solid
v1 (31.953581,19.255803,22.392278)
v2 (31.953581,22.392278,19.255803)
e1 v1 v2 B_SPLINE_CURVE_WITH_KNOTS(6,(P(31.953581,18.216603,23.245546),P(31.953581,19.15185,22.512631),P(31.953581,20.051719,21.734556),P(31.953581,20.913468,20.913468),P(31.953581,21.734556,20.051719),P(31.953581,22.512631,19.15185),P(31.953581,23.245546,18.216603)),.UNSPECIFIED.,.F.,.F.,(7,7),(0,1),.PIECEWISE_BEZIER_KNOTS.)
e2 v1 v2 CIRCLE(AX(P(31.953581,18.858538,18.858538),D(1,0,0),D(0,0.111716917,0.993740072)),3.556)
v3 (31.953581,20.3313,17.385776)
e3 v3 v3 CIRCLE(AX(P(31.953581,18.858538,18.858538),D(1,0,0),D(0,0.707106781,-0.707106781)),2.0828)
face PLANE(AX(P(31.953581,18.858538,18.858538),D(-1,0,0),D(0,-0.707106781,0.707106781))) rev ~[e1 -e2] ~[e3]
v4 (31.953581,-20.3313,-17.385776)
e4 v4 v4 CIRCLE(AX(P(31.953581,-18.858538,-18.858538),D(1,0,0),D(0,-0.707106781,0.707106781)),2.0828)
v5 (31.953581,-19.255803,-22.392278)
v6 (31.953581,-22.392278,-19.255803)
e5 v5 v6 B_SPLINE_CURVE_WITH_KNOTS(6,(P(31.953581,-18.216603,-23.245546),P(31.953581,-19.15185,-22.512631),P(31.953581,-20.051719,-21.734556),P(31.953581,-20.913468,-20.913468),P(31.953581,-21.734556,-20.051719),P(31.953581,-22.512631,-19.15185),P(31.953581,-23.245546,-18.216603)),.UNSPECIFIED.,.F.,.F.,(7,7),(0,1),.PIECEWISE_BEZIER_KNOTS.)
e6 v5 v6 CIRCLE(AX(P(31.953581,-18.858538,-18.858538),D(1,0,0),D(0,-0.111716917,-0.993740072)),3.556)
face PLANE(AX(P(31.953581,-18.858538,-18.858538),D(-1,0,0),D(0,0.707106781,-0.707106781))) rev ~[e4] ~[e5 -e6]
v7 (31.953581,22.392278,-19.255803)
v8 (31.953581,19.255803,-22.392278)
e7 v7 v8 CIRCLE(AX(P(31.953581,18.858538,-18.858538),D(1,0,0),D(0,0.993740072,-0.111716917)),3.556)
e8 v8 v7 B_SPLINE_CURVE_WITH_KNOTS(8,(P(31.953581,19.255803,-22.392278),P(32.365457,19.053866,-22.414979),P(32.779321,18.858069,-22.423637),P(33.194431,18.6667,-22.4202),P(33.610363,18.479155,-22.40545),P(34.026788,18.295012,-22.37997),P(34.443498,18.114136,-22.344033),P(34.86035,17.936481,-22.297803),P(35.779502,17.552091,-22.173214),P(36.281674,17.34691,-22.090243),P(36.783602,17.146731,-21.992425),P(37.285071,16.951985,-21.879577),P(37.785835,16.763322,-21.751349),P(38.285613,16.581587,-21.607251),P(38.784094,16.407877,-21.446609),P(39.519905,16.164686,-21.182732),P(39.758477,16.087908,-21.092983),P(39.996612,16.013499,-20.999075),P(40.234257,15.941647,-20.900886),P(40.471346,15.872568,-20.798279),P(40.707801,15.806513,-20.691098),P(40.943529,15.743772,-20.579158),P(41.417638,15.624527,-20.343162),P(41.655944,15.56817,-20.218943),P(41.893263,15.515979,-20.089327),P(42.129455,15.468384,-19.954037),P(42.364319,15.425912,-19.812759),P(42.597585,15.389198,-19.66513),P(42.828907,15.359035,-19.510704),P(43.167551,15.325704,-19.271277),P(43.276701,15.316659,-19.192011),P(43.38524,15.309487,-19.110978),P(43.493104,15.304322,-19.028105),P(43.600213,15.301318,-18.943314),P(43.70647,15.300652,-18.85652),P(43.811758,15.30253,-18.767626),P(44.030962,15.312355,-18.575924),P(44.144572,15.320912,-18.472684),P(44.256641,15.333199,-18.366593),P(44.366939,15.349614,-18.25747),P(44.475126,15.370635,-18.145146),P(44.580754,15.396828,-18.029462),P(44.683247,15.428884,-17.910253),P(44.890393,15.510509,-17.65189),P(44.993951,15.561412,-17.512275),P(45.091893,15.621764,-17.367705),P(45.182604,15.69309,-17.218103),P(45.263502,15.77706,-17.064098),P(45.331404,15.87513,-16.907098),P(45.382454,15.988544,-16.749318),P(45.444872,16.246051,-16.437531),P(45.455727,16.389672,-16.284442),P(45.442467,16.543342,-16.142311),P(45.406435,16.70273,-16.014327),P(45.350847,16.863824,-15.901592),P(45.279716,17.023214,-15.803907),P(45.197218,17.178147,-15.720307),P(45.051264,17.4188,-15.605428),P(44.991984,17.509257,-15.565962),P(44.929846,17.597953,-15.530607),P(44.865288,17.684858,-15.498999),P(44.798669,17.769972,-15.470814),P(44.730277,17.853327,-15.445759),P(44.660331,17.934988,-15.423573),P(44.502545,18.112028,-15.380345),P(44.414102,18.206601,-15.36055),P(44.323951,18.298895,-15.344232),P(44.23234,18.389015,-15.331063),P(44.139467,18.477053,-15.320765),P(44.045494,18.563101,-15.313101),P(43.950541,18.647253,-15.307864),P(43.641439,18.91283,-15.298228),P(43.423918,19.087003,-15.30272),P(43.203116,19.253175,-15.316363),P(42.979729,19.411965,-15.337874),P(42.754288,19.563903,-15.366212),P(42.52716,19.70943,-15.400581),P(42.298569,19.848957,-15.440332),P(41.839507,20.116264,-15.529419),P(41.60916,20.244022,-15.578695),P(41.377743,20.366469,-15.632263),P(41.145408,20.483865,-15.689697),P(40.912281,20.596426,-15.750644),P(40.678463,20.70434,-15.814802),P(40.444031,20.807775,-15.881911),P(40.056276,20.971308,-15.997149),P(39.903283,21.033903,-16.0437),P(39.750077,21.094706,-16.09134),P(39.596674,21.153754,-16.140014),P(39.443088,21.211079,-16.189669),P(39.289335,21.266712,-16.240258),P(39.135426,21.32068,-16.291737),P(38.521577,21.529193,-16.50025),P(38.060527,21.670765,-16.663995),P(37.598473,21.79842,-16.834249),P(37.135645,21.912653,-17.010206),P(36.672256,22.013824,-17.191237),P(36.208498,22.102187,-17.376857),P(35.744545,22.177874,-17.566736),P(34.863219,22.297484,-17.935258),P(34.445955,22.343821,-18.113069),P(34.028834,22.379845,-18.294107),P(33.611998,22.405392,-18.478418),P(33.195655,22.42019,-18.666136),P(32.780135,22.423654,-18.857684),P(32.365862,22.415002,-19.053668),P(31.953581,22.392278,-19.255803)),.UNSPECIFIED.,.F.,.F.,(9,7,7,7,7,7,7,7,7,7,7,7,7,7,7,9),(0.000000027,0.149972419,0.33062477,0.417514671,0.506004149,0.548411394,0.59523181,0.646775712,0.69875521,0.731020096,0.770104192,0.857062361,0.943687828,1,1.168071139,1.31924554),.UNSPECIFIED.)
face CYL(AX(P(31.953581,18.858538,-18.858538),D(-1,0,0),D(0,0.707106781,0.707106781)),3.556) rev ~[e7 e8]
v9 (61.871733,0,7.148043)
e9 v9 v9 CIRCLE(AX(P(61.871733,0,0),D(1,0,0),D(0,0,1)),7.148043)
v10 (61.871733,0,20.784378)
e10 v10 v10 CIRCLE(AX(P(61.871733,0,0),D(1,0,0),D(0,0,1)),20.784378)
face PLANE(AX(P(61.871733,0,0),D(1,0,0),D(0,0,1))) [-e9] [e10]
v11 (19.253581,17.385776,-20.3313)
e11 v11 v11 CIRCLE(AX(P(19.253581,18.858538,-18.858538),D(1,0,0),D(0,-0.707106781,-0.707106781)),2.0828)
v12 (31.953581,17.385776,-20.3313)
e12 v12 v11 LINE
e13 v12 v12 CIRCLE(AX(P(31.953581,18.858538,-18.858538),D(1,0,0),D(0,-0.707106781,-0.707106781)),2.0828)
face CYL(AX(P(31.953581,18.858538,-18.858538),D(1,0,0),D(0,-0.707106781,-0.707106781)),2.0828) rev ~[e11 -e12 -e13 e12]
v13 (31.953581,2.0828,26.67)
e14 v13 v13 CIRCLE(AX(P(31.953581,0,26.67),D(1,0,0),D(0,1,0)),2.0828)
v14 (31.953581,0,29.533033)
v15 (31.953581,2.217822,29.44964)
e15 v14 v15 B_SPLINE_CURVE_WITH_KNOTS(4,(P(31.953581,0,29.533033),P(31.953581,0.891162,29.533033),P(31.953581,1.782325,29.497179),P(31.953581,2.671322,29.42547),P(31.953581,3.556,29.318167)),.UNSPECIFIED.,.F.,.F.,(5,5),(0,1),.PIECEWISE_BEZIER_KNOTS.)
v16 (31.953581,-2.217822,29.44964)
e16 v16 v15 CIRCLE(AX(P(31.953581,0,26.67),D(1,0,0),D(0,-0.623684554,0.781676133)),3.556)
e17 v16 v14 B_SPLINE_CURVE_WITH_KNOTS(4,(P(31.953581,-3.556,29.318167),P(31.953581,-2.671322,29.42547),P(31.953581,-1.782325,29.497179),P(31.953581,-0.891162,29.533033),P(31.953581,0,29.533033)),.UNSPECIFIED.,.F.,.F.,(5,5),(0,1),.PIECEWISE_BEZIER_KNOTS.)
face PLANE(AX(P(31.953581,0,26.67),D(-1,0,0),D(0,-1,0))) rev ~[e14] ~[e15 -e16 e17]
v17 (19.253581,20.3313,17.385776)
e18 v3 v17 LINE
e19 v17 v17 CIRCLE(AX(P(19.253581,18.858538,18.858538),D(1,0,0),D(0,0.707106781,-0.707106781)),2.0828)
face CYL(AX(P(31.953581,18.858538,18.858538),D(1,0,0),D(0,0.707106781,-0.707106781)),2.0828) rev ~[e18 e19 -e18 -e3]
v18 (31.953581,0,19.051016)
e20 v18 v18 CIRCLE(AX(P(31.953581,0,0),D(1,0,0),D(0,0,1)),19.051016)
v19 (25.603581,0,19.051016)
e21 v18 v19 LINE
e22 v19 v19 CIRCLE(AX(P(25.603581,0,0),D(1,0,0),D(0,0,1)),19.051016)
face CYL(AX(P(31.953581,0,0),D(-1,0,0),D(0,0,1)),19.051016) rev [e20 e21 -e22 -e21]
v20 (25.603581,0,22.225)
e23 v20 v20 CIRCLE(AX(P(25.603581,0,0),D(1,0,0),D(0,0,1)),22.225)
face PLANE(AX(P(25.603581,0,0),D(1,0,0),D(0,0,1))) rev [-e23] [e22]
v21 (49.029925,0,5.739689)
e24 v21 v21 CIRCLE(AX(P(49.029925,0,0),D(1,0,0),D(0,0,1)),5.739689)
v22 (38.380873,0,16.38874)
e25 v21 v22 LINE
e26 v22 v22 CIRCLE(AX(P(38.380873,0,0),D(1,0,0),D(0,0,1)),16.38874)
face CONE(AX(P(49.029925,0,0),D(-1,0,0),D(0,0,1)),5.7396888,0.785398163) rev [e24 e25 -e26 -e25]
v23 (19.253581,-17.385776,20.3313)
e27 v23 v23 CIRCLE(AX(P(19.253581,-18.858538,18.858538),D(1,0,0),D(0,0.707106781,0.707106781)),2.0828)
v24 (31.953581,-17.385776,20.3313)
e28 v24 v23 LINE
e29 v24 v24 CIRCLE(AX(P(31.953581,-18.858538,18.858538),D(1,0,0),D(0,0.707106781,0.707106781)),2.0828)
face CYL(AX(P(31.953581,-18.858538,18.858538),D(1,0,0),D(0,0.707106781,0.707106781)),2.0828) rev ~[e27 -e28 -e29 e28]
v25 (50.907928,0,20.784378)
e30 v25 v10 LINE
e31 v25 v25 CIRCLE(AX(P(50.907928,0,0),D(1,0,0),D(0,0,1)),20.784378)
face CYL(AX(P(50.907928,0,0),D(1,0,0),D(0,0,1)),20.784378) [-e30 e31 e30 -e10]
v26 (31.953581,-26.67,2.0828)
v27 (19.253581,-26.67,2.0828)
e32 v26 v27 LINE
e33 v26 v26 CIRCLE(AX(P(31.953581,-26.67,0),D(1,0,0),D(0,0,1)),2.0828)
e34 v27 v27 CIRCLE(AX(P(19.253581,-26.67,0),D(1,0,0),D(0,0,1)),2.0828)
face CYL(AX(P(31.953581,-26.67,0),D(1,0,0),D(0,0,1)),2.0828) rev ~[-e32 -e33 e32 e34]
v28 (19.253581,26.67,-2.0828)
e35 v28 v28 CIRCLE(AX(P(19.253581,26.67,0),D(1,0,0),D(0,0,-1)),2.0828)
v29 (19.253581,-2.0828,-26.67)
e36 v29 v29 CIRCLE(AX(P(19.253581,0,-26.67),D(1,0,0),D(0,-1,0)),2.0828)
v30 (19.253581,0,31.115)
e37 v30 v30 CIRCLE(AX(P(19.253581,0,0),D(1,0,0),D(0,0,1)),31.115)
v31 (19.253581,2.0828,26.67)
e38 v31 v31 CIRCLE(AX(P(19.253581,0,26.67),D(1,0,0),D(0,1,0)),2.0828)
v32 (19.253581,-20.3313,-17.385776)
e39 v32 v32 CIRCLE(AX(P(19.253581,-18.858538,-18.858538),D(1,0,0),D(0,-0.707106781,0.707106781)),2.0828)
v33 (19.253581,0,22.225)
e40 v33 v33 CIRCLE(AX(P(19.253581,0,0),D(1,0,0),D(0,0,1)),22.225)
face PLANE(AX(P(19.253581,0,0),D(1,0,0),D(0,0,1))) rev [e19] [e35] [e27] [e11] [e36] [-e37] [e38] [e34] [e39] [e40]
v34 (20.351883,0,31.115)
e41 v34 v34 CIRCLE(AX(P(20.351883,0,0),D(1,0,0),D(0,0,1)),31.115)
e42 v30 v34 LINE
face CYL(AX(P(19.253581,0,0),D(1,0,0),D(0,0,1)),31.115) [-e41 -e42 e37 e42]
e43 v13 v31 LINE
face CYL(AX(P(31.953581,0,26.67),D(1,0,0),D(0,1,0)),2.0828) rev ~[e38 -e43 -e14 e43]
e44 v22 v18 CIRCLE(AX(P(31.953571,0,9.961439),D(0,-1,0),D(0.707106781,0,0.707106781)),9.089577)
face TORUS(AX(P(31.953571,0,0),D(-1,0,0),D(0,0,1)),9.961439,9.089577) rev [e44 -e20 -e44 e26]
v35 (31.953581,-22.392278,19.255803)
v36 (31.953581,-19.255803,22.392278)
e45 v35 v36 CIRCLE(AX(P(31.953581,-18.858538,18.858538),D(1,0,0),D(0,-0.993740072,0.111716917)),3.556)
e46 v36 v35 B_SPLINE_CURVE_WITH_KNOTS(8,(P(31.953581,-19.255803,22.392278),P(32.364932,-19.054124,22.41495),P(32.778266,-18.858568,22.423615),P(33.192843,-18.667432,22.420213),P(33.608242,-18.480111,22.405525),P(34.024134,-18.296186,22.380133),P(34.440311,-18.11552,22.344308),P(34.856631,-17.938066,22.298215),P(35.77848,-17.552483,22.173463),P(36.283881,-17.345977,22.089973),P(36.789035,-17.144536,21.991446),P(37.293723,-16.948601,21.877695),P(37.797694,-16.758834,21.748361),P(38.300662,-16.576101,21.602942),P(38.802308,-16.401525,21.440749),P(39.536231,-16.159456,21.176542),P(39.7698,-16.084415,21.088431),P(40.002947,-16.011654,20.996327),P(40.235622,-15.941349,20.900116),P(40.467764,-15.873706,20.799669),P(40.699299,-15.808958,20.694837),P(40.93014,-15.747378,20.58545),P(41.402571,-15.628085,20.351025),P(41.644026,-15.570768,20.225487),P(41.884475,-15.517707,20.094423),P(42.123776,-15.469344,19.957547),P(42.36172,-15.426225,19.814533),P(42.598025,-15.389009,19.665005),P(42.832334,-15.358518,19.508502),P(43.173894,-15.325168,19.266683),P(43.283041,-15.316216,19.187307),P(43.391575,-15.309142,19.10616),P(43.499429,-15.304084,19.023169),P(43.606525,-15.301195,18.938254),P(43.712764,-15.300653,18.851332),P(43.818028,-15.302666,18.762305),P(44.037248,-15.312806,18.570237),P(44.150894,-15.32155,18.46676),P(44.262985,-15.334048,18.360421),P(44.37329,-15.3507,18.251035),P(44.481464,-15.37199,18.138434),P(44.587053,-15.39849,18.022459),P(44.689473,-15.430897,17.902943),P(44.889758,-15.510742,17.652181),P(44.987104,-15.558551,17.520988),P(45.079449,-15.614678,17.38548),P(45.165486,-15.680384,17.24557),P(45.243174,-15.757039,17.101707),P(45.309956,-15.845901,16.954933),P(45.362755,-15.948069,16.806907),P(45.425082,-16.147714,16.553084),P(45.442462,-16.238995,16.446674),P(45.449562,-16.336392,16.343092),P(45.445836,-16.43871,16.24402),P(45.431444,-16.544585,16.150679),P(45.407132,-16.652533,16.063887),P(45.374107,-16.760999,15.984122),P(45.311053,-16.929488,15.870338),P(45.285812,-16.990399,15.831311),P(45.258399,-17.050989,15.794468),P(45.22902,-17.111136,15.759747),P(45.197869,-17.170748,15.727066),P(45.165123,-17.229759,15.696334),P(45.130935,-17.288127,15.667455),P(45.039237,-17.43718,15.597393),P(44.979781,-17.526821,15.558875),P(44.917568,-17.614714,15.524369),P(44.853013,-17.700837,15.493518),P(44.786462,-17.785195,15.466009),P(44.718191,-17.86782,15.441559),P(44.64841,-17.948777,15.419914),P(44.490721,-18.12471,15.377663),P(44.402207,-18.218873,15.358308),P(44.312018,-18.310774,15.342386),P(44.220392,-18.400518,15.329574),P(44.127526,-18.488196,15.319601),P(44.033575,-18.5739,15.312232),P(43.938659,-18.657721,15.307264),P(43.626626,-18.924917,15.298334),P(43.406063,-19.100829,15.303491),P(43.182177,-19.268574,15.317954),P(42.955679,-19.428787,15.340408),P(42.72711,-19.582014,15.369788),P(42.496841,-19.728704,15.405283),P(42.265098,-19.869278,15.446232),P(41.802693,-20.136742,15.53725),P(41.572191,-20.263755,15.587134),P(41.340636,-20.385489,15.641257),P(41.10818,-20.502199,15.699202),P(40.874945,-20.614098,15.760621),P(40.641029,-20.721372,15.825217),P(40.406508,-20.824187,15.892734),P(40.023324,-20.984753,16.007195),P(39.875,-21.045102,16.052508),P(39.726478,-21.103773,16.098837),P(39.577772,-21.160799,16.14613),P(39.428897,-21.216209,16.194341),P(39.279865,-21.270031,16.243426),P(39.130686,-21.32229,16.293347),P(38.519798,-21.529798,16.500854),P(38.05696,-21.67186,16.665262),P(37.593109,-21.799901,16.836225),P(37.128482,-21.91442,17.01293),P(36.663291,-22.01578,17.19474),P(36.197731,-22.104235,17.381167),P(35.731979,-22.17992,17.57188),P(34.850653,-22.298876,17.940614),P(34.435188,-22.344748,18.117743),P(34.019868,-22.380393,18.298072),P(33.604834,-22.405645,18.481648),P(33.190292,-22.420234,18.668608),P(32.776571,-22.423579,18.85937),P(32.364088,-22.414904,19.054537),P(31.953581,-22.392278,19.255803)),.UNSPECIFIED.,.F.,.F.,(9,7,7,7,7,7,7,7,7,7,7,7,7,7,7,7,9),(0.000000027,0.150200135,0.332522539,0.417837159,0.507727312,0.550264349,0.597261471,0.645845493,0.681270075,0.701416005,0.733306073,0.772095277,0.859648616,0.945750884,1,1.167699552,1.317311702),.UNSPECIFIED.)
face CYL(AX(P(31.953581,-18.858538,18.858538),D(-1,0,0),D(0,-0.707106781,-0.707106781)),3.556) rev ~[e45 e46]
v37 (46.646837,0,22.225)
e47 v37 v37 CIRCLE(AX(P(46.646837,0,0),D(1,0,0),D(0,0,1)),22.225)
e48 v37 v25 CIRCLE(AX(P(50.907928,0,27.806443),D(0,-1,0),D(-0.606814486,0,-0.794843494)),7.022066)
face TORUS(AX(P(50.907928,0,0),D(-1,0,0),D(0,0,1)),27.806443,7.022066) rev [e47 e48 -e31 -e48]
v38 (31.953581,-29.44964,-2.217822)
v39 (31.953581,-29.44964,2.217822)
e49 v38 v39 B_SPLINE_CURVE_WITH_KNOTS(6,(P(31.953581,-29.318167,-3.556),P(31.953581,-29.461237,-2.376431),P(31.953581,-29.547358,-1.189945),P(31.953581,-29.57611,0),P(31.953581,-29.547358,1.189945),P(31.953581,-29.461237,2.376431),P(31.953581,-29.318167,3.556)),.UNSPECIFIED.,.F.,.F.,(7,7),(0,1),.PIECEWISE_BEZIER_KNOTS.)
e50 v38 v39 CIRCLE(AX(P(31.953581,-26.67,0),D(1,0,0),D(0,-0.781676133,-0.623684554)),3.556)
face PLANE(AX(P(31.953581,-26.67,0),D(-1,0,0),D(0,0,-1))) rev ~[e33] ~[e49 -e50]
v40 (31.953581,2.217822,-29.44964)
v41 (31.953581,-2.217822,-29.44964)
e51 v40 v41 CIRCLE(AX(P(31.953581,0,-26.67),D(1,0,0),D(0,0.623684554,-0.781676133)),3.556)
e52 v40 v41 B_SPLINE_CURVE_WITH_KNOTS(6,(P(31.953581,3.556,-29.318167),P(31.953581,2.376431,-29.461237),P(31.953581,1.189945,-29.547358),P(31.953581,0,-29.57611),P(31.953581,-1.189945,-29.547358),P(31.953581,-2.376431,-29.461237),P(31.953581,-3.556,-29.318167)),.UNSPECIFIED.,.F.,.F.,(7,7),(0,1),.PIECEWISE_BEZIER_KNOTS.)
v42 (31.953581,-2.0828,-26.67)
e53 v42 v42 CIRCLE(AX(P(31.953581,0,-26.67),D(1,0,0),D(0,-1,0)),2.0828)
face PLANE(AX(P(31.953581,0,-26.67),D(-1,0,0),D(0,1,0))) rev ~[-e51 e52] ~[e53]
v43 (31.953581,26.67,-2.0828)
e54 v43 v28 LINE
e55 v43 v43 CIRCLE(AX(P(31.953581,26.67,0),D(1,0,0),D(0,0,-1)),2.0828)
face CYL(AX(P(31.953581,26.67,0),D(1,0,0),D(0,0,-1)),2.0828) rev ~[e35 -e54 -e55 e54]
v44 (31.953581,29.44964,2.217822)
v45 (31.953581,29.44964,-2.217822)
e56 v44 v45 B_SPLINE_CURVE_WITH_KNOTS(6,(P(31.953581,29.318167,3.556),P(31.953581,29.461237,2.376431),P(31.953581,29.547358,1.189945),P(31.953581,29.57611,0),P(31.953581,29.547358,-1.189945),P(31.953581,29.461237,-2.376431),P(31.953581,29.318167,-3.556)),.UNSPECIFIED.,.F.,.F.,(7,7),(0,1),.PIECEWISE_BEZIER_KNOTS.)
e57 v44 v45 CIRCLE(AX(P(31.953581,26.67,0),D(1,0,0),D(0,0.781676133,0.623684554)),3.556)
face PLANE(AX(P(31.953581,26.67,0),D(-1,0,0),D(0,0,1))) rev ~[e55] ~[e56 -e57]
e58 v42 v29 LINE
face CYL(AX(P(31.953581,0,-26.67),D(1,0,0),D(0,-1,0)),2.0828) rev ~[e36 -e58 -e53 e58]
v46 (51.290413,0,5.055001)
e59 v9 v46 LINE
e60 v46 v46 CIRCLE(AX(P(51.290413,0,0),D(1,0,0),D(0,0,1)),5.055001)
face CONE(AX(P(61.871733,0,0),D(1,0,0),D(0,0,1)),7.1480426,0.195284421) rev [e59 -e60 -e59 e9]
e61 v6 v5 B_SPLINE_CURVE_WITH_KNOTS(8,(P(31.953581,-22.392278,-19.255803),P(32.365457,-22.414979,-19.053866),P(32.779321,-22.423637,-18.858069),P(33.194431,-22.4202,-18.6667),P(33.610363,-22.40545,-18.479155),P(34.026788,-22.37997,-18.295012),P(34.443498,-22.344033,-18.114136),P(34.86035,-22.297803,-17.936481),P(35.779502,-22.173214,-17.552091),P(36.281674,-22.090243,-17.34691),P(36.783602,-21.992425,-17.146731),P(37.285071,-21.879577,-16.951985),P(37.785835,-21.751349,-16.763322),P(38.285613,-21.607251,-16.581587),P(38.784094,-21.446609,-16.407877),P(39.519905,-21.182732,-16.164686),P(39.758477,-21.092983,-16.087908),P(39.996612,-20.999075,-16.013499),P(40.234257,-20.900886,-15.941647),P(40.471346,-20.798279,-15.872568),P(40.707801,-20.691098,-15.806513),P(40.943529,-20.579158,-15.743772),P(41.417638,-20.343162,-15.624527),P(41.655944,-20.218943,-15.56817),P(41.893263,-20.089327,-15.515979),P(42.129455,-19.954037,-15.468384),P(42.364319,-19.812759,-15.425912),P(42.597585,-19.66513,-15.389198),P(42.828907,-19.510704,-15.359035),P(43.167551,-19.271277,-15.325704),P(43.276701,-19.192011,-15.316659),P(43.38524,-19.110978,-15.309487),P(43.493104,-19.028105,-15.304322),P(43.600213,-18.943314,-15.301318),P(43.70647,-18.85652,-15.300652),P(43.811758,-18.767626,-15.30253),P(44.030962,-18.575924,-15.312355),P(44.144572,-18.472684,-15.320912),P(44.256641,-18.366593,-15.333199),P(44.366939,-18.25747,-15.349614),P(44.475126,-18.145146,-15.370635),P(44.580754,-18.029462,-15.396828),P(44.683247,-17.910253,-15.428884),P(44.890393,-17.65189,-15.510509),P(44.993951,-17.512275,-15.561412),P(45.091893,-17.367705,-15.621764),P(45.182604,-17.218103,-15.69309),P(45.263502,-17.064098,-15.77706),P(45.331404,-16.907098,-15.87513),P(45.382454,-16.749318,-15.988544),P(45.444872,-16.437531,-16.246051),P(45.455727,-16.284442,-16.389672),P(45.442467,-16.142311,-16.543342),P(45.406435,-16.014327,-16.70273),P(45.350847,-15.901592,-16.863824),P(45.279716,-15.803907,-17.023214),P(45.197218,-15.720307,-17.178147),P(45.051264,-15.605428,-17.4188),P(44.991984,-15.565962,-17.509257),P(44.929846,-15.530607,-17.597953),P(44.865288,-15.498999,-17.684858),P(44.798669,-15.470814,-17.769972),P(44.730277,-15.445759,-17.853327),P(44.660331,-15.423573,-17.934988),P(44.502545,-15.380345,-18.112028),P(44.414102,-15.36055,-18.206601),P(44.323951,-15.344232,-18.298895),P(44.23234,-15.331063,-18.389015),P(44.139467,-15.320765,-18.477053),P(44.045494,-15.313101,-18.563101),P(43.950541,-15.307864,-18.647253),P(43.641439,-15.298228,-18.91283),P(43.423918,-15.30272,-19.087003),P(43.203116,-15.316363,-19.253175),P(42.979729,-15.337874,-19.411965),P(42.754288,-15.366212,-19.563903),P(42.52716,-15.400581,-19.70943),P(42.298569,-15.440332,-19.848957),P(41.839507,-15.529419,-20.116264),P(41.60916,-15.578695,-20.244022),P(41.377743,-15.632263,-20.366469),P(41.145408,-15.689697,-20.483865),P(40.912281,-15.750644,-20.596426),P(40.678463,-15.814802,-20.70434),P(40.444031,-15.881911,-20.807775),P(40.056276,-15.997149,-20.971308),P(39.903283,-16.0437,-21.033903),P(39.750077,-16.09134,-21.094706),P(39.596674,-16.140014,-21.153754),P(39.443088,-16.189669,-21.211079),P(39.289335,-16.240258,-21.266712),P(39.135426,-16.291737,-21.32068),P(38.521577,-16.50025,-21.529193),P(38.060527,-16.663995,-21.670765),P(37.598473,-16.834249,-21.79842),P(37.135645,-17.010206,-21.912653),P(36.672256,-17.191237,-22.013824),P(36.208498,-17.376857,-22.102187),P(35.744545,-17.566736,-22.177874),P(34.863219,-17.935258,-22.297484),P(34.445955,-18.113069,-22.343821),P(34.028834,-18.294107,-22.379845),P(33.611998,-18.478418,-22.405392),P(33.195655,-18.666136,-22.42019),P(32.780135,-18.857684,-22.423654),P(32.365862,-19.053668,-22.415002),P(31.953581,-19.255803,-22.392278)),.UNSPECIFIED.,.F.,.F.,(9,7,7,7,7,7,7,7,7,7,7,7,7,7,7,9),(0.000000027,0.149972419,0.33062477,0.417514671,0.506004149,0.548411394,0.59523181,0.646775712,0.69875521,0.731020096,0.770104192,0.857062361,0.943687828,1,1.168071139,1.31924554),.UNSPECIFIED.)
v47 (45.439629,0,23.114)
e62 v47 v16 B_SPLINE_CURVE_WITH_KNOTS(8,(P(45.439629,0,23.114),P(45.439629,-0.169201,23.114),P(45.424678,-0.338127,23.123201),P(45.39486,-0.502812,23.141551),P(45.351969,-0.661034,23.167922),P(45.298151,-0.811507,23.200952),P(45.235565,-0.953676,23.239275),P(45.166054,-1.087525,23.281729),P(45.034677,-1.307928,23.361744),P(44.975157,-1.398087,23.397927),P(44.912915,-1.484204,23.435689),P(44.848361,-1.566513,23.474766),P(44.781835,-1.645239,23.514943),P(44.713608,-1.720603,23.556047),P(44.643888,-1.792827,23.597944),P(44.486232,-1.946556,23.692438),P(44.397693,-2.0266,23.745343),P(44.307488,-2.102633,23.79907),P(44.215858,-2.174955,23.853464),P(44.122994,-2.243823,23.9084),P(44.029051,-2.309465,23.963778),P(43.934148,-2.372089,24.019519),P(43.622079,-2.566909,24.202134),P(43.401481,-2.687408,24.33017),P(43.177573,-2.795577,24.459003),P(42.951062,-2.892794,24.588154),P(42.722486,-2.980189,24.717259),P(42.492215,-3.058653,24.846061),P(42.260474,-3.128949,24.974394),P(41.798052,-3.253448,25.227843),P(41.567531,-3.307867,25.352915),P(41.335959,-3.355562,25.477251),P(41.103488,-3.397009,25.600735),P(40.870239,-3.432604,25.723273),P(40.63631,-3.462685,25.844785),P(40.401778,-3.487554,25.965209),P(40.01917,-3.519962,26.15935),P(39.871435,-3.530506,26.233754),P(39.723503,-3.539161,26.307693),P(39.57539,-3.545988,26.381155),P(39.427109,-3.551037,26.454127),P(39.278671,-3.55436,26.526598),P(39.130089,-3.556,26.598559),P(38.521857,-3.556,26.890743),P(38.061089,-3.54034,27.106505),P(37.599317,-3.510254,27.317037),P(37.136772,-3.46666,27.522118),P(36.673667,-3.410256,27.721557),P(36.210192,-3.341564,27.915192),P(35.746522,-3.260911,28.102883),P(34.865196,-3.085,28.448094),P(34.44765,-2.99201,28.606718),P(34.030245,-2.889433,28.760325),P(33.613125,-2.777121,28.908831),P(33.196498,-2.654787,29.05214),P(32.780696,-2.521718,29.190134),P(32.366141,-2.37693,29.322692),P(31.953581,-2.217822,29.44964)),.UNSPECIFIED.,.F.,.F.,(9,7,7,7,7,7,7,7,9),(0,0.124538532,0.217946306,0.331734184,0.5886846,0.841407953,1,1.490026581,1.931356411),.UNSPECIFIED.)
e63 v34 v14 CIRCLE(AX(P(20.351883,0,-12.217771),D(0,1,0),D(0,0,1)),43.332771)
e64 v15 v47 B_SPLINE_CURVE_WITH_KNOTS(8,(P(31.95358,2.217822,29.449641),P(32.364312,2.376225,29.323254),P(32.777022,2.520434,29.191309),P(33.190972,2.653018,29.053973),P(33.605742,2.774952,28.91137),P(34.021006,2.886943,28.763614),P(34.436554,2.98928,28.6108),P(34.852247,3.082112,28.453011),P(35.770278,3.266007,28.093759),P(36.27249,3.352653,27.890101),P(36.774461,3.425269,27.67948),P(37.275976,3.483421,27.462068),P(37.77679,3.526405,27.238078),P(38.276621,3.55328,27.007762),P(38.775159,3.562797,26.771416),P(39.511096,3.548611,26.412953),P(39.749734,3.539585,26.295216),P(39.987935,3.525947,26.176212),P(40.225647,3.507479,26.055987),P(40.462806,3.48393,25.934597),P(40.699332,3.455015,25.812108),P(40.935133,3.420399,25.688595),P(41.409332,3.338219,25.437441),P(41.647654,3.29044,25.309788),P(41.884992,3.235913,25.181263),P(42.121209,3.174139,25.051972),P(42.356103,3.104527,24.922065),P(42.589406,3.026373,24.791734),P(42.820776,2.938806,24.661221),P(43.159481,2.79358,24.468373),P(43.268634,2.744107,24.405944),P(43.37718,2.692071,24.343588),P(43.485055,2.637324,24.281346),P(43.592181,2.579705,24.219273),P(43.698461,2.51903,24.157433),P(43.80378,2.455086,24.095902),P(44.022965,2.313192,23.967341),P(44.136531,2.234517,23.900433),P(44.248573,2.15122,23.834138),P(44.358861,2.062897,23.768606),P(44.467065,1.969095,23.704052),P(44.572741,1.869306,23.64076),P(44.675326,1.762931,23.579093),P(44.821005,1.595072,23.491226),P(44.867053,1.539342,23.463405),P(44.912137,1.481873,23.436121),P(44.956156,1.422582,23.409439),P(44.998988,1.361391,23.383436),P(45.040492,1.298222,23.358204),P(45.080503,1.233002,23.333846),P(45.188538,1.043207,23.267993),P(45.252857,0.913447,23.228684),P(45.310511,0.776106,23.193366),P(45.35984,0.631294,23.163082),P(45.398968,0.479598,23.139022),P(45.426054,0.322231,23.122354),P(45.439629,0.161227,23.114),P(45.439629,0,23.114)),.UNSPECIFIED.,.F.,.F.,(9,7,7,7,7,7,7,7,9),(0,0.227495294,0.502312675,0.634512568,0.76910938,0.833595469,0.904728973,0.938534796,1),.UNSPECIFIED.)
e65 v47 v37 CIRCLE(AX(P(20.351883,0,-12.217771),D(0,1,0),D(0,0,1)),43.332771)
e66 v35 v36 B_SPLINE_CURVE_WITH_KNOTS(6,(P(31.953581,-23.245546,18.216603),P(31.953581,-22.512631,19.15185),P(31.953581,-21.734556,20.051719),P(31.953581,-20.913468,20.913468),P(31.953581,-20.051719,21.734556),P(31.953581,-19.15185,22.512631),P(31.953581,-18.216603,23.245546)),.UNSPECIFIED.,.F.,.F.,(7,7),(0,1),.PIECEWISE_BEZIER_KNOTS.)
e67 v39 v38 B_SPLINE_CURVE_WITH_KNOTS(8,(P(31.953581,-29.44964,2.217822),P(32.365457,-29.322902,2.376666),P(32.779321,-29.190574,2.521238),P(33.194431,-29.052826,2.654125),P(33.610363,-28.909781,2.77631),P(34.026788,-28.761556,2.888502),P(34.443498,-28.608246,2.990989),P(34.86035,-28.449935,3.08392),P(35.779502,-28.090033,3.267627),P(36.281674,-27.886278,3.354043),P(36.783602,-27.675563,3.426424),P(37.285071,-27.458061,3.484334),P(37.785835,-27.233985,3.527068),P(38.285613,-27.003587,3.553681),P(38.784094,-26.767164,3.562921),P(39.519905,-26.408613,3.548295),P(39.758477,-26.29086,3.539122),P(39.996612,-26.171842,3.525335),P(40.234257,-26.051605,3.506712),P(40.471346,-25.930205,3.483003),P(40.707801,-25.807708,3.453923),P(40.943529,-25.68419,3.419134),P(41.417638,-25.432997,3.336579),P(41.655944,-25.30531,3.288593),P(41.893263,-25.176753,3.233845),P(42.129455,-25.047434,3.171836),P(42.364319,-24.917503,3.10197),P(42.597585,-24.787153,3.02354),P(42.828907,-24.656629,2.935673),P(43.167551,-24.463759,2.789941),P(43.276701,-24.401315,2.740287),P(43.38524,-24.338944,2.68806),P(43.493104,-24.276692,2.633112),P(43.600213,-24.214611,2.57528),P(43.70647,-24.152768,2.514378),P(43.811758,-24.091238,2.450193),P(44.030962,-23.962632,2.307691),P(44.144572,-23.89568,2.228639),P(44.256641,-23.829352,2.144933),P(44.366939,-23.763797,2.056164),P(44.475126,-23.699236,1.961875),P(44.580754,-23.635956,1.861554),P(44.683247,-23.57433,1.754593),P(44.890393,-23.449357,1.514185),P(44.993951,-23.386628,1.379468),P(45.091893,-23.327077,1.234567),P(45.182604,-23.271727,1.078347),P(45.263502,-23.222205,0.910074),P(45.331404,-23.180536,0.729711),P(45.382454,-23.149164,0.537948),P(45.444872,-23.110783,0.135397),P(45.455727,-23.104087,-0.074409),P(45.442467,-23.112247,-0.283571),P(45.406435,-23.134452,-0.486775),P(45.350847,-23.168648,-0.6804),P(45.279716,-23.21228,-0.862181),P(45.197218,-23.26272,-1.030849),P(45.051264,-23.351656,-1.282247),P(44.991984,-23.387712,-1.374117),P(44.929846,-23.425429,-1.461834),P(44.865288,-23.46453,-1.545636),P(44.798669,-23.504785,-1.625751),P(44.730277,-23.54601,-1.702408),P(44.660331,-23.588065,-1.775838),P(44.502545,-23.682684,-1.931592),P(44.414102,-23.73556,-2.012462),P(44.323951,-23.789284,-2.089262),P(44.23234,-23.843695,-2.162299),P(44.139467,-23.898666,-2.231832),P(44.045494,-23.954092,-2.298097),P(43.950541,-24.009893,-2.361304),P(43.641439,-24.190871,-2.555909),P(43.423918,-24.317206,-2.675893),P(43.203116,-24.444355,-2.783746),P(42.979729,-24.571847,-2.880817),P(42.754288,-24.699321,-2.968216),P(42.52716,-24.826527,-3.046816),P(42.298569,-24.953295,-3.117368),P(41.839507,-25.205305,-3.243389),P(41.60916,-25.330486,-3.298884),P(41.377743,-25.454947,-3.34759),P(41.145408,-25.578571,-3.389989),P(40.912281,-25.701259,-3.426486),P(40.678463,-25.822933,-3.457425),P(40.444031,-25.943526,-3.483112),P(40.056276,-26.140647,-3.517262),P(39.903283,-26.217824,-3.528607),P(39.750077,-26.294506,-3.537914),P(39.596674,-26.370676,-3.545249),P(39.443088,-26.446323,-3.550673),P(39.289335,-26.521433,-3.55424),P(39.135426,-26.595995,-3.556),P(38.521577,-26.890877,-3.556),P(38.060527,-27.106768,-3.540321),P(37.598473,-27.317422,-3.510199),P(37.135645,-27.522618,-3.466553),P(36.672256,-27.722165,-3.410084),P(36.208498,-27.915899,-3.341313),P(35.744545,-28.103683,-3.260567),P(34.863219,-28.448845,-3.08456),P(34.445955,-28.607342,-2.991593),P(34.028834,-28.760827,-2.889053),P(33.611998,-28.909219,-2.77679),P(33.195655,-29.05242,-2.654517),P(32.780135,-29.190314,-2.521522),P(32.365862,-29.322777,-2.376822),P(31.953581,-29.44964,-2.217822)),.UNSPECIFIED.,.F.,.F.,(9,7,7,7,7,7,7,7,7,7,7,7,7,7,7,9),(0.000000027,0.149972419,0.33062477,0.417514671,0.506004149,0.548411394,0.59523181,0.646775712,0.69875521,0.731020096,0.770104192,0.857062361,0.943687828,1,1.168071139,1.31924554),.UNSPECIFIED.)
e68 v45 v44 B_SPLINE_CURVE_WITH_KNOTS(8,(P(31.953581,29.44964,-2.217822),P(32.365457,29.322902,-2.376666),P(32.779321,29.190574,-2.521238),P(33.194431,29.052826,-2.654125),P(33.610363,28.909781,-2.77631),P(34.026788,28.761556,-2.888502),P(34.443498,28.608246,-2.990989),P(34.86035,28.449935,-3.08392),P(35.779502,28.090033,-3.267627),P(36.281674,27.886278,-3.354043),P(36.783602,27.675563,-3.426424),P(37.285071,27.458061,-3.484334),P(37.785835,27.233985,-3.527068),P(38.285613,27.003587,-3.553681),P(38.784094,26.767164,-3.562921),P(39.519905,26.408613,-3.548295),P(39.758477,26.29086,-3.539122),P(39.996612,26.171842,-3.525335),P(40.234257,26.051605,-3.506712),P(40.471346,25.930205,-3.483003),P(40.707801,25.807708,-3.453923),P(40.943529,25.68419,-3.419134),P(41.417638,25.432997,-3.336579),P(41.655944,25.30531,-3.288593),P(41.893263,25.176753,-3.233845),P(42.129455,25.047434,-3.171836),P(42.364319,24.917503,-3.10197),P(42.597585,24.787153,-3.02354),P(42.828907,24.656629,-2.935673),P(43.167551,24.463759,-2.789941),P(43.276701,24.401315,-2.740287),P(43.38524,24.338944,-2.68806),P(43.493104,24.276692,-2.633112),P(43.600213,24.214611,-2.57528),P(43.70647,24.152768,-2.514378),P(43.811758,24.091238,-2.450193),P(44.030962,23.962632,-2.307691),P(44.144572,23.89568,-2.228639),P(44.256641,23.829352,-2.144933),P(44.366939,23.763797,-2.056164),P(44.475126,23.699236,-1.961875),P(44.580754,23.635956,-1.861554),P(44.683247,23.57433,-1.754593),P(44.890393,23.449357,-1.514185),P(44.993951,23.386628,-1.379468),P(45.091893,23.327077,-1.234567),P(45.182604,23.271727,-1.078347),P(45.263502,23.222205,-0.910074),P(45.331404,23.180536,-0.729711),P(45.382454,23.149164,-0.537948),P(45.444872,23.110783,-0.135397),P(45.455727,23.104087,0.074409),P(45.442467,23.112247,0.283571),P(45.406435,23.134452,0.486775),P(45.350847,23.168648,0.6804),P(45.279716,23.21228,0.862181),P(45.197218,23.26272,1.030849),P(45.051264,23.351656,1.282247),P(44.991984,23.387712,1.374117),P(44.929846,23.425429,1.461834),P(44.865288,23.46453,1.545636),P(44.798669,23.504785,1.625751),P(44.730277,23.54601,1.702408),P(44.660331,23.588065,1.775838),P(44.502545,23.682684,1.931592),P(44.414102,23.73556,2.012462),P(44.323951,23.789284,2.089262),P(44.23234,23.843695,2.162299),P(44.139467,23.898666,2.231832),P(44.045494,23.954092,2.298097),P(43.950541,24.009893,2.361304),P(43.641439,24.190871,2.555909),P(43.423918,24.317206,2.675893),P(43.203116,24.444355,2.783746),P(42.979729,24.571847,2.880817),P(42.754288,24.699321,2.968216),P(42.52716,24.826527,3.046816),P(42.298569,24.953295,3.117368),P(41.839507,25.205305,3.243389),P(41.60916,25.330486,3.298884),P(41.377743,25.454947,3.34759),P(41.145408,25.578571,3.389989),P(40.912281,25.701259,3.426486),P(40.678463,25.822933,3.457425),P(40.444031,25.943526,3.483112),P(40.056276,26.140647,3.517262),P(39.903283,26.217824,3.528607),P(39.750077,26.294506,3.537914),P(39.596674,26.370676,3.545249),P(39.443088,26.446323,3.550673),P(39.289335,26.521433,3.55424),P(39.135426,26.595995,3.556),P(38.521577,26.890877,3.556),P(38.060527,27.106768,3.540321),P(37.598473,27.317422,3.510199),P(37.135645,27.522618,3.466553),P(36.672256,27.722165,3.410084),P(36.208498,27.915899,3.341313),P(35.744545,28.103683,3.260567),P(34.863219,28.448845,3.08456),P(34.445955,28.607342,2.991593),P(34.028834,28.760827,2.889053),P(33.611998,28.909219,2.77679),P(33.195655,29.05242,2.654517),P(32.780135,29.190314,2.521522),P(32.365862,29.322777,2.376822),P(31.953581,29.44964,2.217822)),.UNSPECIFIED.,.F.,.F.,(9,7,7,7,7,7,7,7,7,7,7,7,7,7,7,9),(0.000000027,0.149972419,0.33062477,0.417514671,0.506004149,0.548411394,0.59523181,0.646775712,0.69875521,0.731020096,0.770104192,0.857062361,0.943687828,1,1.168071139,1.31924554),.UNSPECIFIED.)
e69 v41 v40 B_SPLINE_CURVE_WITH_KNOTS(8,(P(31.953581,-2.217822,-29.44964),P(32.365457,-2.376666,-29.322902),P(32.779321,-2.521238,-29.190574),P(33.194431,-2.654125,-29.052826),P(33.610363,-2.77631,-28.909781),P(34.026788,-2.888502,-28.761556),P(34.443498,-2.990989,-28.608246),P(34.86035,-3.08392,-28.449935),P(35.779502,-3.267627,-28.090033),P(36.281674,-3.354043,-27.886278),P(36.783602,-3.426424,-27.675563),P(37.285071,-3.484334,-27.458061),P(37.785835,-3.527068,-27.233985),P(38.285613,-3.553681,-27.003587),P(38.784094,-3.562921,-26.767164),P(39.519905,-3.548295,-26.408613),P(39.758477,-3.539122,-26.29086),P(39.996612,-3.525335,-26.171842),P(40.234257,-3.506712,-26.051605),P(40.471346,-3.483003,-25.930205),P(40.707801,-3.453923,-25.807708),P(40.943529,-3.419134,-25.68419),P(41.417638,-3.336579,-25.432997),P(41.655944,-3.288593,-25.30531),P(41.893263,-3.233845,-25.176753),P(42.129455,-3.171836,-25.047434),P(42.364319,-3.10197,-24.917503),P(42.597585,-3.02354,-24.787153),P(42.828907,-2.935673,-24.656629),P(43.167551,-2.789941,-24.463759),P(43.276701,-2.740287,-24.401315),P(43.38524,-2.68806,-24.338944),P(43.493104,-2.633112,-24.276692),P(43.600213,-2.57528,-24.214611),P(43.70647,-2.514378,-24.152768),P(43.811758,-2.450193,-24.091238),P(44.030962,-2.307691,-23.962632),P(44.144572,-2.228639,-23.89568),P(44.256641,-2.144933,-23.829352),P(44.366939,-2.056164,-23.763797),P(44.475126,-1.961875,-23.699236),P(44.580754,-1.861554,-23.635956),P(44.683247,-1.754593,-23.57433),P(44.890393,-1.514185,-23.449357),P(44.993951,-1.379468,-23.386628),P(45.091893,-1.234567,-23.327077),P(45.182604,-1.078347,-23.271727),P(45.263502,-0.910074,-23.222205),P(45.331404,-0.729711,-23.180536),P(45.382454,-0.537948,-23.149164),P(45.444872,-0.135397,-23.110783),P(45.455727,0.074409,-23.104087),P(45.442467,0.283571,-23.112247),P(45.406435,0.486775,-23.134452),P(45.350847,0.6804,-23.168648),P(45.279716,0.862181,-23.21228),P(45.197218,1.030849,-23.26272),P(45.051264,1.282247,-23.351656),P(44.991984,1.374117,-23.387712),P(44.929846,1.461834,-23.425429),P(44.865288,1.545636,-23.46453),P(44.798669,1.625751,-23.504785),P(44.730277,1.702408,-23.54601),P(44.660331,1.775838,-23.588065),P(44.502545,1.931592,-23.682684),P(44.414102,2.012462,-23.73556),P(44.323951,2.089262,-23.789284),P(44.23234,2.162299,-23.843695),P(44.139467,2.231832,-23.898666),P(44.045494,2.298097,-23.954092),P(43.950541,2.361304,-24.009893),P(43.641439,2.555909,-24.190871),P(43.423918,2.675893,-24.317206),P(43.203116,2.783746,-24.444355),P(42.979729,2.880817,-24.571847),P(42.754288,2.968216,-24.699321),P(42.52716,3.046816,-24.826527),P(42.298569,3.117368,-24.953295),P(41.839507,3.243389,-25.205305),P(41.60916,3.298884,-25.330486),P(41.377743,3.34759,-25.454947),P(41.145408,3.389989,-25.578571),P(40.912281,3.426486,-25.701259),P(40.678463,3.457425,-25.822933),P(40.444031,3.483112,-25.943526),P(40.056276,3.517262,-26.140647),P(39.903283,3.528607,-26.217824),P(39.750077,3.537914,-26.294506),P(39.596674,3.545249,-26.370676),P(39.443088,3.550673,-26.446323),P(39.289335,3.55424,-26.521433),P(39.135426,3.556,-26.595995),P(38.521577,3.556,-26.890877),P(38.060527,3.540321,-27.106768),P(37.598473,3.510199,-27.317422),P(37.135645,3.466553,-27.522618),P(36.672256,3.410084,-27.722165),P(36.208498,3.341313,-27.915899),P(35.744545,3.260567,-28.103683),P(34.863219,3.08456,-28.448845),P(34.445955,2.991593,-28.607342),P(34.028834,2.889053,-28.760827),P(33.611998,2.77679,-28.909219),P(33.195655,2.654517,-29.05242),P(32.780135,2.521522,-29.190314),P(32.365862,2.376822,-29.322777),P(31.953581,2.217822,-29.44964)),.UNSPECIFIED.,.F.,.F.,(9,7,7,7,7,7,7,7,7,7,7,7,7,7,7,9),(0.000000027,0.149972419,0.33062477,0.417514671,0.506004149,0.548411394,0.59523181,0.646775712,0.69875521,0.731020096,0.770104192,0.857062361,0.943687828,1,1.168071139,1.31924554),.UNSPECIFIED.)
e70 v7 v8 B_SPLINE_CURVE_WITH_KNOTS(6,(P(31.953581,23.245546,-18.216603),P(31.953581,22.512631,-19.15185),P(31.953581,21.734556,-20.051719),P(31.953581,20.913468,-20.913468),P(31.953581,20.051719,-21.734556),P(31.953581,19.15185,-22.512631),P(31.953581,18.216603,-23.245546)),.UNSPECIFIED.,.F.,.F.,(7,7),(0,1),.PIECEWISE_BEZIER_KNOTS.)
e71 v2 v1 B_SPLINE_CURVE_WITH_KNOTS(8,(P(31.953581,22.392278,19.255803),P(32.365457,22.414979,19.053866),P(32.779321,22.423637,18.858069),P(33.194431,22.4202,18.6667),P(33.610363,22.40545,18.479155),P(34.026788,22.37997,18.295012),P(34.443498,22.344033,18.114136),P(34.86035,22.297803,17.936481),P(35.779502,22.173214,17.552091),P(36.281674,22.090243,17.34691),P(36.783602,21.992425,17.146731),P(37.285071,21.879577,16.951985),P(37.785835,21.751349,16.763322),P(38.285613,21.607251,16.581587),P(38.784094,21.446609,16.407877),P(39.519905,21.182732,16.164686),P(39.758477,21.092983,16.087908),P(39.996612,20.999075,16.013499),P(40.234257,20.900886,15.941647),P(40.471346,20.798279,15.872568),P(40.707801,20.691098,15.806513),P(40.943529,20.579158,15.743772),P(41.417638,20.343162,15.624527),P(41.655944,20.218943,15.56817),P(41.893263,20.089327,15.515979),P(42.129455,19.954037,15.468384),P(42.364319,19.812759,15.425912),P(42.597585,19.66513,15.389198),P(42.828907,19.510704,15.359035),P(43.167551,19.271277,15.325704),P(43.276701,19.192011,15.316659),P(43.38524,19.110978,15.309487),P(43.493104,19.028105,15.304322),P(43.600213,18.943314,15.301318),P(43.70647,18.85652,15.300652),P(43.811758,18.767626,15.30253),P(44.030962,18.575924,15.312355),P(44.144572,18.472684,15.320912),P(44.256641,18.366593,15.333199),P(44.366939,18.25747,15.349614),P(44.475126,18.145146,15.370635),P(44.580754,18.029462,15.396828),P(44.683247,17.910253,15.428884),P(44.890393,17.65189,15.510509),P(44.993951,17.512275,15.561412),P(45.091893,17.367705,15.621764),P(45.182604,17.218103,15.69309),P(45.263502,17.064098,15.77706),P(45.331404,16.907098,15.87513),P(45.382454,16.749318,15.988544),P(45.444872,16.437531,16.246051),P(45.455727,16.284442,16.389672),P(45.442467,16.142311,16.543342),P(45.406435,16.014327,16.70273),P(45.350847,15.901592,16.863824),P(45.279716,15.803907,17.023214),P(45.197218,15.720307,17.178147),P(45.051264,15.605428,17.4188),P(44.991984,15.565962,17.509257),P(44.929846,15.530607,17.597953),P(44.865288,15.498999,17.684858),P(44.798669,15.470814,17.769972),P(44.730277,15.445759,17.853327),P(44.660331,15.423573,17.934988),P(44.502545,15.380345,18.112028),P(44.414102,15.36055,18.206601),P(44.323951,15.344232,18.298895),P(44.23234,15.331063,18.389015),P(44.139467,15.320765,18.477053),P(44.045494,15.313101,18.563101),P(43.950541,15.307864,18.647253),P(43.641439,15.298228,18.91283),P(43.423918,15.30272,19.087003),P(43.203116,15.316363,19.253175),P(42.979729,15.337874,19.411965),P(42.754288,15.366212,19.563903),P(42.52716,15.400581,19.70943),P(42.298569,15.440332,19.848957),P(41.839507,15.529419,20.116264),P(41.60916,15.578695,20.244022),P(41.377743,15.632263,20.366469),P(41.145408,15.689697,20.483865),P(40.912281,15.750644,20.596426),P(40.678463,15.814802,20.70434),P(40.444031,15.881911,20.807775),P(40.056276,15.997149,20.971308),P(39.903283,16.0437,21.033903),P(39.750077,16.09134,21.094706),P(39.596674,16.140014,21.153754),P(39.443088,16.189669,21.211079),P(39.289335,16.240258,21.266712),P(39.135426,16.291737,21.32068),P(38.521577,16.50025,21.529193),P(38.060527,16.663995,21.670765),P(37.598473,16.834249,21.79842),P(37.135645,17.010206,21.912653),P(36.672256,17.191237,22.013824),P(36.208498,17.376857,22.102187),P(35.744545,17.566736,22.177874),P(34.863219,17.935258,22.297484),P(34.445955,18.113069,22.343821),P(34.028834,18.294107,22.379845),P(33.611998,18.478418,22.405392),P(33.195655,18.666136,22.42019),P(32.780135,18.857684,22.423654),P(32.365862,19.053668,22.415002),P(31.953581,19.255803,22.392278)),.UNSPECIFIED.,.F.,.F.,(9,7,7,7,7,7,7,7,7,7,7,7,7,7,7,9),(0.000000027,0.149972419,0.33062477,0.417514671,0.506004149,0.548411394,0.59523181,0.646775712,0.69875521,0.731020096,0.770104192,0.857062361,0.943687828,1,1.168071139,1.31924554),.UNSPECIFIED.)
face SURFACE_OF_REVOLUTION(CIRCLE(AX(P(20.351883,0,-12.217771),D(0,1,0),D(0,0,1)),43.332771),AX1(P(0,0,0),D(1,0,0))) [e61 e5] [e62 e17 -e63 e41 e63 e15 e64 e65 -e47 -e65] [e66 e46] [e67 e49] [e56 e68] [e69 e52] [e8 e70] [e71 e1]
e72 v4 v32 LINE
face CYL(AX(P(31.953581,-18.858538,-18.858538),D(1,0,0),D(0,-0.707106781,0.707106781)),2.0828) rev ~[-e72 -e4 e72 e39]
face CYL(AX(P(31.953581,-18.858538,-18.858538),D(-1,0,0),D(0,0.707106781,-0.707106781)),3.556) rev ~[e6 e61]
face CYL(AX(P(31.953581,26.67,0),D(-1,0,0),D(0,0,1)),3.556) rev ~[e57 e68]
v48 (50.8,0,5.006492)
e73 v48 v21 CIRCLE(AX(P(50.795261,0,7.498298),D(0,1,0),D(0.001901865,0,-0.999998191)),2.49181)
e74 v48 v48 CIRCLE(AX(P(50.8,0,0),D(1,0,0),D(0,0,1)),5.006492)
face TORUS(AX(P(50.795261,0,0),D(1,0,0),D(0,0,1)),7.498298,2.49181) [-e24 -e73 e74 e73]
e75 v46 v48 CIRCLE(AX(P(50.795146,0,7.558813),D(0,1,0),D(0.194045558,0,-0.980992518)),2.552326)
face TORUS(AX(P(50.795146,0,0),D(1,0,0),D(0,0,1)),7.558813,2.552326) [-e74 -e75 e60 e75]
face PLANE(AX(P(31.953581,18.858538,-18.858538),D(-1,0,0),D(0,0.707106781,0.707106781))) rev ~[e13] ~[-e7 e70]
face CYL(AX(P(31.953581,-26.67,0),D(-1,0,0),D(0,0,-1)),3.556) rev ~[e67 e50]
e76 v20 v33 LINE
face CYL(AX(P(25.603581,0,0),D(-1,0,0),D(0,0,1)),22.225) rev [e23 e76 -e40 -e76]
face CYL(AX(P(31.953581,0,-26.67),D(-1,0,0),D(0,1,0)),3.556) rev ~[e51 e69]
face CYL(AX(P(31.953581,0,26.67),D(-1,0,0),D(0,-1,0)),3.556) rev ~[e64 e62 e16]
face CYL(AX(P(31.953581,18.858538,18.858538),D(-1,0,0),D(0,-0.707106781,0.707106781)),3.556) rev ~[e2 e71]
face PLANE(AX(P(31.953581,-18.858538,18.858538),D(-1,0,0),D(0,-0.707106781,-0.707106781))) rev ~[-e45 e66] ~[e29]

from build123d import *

# Parameters (mm, degrees)
CUT_EXTRUDE1_START = -12.7
SKETCH3_R          = 3.556
CUT_EXTRUDE1_DEPTH = 29.918152
SKETCH4_R          = 2.0828
CUT_EXTRUDE2_DEPTH = 12.7
CIRPATTERN1_COUNT  = 8


with BuildPart() as part:
    # Sketch2 → Revolve1 (revolve)
    with BuildSketch(Plane.XY, mode=Mode.PRIVATE) as revolve1_sk:
        with BuildLine():
            Line((61.871733, 7.1480426), (51.29041327, 5.055001066))
            ThreePointArc((51.29041327, 5.055001066), (51.046380141, 5.018882817), (50.8, 5.0064924))
            ThreePointArc((50.8, 5.0064924), (49.841678346, 5.196168991), (49.0299248, 5.7396888))
            Line((49.0299248, 5.7396888), (38.3808732, 16.3887404))
            ThreePointArc((38.3808732, 16.3887404), (35.432006503, 18.359111266), (31.953581, 19.051016))
            Line((31.953581, 19.051016), (25.603581, 19.051016))
            Line((25.603581, 19.051016), (25.603581, 22.225))
            Line((25.603581, 22.225), (19.253581, 22.225))
            Line((19.253581, 22.225), (19.253581, 31.115))
            Line((19.253581, 31.115), (20.351883229, 31.115))
            ThreePointArc((20.351883229, 31.115), (34.230433921, 28.832379737), (46.646836686, 22.225))
            ThreePointArc((46.646836686, 22.225), (48.658911913, 21.154275625), (50.907927879, 20.784377533))
            Line((50.907927879, 20.784377533), (61.871733, 20.784377533))
            Line((61.871733, 20.784377533), (61.871733, 7.1480426))
        make_face()
    revolve(revolve1_sk.sketch.rotate(Axis((0, 0, 0), (1, 0, 0)), 90), axis=Axis((0, 0, 0), (1, 0, 0)))

    # Sketch3 → Cut-Extrude1 (cut)
    with BuildSketch(Plane.ZY.offset(-19.253581).offset(CUT_EXTRUDE1_START)):
        with Locations((0, 26.67)):
            Circle(SKETCH3_R)
    cut_extrude1 = extrude(amount=-CUT_EXTRUDE1_DEPTH, mode=Mode.SUBTRACT)

    # Sketch4 → Cut-Extrude2 (cut)
    with BuildSketch(Plane(origin=(31.953581, 0, 0), x_dir=(0, 0, -1), z_dir=(1, 0, 0))):
        with Locations((0, 26.67)):
            Circle(SKETCH4_R)
    cut_extrude2 = extrude(amount=-CUT_EXTRUDE2_DEPTH, mode=Mode.SUBTRACT)

    # CirPattern1: Cut-Extrude1, Cut-Extrude2 ×8 about axis
    cirpattern1_axis = Axis((0, 0, 0), (1, 0, 0))
    add([cut_extrude1.rotate(cirpattern1_axis, i * 360 / CIRPATTERN1_COUNT) for i in range(1, CIRPATTERN1_COUNT)], mode=Mode.SUBTRACT)
    add([cut_extrude2.rotate(cirpattern1_axis, i * 360 / CIRPATTERN1_COUNT) for i in range(1, CIRPATTERN1_COUNT)], mode=Mode.SUBTRACT)


solid = part.part
